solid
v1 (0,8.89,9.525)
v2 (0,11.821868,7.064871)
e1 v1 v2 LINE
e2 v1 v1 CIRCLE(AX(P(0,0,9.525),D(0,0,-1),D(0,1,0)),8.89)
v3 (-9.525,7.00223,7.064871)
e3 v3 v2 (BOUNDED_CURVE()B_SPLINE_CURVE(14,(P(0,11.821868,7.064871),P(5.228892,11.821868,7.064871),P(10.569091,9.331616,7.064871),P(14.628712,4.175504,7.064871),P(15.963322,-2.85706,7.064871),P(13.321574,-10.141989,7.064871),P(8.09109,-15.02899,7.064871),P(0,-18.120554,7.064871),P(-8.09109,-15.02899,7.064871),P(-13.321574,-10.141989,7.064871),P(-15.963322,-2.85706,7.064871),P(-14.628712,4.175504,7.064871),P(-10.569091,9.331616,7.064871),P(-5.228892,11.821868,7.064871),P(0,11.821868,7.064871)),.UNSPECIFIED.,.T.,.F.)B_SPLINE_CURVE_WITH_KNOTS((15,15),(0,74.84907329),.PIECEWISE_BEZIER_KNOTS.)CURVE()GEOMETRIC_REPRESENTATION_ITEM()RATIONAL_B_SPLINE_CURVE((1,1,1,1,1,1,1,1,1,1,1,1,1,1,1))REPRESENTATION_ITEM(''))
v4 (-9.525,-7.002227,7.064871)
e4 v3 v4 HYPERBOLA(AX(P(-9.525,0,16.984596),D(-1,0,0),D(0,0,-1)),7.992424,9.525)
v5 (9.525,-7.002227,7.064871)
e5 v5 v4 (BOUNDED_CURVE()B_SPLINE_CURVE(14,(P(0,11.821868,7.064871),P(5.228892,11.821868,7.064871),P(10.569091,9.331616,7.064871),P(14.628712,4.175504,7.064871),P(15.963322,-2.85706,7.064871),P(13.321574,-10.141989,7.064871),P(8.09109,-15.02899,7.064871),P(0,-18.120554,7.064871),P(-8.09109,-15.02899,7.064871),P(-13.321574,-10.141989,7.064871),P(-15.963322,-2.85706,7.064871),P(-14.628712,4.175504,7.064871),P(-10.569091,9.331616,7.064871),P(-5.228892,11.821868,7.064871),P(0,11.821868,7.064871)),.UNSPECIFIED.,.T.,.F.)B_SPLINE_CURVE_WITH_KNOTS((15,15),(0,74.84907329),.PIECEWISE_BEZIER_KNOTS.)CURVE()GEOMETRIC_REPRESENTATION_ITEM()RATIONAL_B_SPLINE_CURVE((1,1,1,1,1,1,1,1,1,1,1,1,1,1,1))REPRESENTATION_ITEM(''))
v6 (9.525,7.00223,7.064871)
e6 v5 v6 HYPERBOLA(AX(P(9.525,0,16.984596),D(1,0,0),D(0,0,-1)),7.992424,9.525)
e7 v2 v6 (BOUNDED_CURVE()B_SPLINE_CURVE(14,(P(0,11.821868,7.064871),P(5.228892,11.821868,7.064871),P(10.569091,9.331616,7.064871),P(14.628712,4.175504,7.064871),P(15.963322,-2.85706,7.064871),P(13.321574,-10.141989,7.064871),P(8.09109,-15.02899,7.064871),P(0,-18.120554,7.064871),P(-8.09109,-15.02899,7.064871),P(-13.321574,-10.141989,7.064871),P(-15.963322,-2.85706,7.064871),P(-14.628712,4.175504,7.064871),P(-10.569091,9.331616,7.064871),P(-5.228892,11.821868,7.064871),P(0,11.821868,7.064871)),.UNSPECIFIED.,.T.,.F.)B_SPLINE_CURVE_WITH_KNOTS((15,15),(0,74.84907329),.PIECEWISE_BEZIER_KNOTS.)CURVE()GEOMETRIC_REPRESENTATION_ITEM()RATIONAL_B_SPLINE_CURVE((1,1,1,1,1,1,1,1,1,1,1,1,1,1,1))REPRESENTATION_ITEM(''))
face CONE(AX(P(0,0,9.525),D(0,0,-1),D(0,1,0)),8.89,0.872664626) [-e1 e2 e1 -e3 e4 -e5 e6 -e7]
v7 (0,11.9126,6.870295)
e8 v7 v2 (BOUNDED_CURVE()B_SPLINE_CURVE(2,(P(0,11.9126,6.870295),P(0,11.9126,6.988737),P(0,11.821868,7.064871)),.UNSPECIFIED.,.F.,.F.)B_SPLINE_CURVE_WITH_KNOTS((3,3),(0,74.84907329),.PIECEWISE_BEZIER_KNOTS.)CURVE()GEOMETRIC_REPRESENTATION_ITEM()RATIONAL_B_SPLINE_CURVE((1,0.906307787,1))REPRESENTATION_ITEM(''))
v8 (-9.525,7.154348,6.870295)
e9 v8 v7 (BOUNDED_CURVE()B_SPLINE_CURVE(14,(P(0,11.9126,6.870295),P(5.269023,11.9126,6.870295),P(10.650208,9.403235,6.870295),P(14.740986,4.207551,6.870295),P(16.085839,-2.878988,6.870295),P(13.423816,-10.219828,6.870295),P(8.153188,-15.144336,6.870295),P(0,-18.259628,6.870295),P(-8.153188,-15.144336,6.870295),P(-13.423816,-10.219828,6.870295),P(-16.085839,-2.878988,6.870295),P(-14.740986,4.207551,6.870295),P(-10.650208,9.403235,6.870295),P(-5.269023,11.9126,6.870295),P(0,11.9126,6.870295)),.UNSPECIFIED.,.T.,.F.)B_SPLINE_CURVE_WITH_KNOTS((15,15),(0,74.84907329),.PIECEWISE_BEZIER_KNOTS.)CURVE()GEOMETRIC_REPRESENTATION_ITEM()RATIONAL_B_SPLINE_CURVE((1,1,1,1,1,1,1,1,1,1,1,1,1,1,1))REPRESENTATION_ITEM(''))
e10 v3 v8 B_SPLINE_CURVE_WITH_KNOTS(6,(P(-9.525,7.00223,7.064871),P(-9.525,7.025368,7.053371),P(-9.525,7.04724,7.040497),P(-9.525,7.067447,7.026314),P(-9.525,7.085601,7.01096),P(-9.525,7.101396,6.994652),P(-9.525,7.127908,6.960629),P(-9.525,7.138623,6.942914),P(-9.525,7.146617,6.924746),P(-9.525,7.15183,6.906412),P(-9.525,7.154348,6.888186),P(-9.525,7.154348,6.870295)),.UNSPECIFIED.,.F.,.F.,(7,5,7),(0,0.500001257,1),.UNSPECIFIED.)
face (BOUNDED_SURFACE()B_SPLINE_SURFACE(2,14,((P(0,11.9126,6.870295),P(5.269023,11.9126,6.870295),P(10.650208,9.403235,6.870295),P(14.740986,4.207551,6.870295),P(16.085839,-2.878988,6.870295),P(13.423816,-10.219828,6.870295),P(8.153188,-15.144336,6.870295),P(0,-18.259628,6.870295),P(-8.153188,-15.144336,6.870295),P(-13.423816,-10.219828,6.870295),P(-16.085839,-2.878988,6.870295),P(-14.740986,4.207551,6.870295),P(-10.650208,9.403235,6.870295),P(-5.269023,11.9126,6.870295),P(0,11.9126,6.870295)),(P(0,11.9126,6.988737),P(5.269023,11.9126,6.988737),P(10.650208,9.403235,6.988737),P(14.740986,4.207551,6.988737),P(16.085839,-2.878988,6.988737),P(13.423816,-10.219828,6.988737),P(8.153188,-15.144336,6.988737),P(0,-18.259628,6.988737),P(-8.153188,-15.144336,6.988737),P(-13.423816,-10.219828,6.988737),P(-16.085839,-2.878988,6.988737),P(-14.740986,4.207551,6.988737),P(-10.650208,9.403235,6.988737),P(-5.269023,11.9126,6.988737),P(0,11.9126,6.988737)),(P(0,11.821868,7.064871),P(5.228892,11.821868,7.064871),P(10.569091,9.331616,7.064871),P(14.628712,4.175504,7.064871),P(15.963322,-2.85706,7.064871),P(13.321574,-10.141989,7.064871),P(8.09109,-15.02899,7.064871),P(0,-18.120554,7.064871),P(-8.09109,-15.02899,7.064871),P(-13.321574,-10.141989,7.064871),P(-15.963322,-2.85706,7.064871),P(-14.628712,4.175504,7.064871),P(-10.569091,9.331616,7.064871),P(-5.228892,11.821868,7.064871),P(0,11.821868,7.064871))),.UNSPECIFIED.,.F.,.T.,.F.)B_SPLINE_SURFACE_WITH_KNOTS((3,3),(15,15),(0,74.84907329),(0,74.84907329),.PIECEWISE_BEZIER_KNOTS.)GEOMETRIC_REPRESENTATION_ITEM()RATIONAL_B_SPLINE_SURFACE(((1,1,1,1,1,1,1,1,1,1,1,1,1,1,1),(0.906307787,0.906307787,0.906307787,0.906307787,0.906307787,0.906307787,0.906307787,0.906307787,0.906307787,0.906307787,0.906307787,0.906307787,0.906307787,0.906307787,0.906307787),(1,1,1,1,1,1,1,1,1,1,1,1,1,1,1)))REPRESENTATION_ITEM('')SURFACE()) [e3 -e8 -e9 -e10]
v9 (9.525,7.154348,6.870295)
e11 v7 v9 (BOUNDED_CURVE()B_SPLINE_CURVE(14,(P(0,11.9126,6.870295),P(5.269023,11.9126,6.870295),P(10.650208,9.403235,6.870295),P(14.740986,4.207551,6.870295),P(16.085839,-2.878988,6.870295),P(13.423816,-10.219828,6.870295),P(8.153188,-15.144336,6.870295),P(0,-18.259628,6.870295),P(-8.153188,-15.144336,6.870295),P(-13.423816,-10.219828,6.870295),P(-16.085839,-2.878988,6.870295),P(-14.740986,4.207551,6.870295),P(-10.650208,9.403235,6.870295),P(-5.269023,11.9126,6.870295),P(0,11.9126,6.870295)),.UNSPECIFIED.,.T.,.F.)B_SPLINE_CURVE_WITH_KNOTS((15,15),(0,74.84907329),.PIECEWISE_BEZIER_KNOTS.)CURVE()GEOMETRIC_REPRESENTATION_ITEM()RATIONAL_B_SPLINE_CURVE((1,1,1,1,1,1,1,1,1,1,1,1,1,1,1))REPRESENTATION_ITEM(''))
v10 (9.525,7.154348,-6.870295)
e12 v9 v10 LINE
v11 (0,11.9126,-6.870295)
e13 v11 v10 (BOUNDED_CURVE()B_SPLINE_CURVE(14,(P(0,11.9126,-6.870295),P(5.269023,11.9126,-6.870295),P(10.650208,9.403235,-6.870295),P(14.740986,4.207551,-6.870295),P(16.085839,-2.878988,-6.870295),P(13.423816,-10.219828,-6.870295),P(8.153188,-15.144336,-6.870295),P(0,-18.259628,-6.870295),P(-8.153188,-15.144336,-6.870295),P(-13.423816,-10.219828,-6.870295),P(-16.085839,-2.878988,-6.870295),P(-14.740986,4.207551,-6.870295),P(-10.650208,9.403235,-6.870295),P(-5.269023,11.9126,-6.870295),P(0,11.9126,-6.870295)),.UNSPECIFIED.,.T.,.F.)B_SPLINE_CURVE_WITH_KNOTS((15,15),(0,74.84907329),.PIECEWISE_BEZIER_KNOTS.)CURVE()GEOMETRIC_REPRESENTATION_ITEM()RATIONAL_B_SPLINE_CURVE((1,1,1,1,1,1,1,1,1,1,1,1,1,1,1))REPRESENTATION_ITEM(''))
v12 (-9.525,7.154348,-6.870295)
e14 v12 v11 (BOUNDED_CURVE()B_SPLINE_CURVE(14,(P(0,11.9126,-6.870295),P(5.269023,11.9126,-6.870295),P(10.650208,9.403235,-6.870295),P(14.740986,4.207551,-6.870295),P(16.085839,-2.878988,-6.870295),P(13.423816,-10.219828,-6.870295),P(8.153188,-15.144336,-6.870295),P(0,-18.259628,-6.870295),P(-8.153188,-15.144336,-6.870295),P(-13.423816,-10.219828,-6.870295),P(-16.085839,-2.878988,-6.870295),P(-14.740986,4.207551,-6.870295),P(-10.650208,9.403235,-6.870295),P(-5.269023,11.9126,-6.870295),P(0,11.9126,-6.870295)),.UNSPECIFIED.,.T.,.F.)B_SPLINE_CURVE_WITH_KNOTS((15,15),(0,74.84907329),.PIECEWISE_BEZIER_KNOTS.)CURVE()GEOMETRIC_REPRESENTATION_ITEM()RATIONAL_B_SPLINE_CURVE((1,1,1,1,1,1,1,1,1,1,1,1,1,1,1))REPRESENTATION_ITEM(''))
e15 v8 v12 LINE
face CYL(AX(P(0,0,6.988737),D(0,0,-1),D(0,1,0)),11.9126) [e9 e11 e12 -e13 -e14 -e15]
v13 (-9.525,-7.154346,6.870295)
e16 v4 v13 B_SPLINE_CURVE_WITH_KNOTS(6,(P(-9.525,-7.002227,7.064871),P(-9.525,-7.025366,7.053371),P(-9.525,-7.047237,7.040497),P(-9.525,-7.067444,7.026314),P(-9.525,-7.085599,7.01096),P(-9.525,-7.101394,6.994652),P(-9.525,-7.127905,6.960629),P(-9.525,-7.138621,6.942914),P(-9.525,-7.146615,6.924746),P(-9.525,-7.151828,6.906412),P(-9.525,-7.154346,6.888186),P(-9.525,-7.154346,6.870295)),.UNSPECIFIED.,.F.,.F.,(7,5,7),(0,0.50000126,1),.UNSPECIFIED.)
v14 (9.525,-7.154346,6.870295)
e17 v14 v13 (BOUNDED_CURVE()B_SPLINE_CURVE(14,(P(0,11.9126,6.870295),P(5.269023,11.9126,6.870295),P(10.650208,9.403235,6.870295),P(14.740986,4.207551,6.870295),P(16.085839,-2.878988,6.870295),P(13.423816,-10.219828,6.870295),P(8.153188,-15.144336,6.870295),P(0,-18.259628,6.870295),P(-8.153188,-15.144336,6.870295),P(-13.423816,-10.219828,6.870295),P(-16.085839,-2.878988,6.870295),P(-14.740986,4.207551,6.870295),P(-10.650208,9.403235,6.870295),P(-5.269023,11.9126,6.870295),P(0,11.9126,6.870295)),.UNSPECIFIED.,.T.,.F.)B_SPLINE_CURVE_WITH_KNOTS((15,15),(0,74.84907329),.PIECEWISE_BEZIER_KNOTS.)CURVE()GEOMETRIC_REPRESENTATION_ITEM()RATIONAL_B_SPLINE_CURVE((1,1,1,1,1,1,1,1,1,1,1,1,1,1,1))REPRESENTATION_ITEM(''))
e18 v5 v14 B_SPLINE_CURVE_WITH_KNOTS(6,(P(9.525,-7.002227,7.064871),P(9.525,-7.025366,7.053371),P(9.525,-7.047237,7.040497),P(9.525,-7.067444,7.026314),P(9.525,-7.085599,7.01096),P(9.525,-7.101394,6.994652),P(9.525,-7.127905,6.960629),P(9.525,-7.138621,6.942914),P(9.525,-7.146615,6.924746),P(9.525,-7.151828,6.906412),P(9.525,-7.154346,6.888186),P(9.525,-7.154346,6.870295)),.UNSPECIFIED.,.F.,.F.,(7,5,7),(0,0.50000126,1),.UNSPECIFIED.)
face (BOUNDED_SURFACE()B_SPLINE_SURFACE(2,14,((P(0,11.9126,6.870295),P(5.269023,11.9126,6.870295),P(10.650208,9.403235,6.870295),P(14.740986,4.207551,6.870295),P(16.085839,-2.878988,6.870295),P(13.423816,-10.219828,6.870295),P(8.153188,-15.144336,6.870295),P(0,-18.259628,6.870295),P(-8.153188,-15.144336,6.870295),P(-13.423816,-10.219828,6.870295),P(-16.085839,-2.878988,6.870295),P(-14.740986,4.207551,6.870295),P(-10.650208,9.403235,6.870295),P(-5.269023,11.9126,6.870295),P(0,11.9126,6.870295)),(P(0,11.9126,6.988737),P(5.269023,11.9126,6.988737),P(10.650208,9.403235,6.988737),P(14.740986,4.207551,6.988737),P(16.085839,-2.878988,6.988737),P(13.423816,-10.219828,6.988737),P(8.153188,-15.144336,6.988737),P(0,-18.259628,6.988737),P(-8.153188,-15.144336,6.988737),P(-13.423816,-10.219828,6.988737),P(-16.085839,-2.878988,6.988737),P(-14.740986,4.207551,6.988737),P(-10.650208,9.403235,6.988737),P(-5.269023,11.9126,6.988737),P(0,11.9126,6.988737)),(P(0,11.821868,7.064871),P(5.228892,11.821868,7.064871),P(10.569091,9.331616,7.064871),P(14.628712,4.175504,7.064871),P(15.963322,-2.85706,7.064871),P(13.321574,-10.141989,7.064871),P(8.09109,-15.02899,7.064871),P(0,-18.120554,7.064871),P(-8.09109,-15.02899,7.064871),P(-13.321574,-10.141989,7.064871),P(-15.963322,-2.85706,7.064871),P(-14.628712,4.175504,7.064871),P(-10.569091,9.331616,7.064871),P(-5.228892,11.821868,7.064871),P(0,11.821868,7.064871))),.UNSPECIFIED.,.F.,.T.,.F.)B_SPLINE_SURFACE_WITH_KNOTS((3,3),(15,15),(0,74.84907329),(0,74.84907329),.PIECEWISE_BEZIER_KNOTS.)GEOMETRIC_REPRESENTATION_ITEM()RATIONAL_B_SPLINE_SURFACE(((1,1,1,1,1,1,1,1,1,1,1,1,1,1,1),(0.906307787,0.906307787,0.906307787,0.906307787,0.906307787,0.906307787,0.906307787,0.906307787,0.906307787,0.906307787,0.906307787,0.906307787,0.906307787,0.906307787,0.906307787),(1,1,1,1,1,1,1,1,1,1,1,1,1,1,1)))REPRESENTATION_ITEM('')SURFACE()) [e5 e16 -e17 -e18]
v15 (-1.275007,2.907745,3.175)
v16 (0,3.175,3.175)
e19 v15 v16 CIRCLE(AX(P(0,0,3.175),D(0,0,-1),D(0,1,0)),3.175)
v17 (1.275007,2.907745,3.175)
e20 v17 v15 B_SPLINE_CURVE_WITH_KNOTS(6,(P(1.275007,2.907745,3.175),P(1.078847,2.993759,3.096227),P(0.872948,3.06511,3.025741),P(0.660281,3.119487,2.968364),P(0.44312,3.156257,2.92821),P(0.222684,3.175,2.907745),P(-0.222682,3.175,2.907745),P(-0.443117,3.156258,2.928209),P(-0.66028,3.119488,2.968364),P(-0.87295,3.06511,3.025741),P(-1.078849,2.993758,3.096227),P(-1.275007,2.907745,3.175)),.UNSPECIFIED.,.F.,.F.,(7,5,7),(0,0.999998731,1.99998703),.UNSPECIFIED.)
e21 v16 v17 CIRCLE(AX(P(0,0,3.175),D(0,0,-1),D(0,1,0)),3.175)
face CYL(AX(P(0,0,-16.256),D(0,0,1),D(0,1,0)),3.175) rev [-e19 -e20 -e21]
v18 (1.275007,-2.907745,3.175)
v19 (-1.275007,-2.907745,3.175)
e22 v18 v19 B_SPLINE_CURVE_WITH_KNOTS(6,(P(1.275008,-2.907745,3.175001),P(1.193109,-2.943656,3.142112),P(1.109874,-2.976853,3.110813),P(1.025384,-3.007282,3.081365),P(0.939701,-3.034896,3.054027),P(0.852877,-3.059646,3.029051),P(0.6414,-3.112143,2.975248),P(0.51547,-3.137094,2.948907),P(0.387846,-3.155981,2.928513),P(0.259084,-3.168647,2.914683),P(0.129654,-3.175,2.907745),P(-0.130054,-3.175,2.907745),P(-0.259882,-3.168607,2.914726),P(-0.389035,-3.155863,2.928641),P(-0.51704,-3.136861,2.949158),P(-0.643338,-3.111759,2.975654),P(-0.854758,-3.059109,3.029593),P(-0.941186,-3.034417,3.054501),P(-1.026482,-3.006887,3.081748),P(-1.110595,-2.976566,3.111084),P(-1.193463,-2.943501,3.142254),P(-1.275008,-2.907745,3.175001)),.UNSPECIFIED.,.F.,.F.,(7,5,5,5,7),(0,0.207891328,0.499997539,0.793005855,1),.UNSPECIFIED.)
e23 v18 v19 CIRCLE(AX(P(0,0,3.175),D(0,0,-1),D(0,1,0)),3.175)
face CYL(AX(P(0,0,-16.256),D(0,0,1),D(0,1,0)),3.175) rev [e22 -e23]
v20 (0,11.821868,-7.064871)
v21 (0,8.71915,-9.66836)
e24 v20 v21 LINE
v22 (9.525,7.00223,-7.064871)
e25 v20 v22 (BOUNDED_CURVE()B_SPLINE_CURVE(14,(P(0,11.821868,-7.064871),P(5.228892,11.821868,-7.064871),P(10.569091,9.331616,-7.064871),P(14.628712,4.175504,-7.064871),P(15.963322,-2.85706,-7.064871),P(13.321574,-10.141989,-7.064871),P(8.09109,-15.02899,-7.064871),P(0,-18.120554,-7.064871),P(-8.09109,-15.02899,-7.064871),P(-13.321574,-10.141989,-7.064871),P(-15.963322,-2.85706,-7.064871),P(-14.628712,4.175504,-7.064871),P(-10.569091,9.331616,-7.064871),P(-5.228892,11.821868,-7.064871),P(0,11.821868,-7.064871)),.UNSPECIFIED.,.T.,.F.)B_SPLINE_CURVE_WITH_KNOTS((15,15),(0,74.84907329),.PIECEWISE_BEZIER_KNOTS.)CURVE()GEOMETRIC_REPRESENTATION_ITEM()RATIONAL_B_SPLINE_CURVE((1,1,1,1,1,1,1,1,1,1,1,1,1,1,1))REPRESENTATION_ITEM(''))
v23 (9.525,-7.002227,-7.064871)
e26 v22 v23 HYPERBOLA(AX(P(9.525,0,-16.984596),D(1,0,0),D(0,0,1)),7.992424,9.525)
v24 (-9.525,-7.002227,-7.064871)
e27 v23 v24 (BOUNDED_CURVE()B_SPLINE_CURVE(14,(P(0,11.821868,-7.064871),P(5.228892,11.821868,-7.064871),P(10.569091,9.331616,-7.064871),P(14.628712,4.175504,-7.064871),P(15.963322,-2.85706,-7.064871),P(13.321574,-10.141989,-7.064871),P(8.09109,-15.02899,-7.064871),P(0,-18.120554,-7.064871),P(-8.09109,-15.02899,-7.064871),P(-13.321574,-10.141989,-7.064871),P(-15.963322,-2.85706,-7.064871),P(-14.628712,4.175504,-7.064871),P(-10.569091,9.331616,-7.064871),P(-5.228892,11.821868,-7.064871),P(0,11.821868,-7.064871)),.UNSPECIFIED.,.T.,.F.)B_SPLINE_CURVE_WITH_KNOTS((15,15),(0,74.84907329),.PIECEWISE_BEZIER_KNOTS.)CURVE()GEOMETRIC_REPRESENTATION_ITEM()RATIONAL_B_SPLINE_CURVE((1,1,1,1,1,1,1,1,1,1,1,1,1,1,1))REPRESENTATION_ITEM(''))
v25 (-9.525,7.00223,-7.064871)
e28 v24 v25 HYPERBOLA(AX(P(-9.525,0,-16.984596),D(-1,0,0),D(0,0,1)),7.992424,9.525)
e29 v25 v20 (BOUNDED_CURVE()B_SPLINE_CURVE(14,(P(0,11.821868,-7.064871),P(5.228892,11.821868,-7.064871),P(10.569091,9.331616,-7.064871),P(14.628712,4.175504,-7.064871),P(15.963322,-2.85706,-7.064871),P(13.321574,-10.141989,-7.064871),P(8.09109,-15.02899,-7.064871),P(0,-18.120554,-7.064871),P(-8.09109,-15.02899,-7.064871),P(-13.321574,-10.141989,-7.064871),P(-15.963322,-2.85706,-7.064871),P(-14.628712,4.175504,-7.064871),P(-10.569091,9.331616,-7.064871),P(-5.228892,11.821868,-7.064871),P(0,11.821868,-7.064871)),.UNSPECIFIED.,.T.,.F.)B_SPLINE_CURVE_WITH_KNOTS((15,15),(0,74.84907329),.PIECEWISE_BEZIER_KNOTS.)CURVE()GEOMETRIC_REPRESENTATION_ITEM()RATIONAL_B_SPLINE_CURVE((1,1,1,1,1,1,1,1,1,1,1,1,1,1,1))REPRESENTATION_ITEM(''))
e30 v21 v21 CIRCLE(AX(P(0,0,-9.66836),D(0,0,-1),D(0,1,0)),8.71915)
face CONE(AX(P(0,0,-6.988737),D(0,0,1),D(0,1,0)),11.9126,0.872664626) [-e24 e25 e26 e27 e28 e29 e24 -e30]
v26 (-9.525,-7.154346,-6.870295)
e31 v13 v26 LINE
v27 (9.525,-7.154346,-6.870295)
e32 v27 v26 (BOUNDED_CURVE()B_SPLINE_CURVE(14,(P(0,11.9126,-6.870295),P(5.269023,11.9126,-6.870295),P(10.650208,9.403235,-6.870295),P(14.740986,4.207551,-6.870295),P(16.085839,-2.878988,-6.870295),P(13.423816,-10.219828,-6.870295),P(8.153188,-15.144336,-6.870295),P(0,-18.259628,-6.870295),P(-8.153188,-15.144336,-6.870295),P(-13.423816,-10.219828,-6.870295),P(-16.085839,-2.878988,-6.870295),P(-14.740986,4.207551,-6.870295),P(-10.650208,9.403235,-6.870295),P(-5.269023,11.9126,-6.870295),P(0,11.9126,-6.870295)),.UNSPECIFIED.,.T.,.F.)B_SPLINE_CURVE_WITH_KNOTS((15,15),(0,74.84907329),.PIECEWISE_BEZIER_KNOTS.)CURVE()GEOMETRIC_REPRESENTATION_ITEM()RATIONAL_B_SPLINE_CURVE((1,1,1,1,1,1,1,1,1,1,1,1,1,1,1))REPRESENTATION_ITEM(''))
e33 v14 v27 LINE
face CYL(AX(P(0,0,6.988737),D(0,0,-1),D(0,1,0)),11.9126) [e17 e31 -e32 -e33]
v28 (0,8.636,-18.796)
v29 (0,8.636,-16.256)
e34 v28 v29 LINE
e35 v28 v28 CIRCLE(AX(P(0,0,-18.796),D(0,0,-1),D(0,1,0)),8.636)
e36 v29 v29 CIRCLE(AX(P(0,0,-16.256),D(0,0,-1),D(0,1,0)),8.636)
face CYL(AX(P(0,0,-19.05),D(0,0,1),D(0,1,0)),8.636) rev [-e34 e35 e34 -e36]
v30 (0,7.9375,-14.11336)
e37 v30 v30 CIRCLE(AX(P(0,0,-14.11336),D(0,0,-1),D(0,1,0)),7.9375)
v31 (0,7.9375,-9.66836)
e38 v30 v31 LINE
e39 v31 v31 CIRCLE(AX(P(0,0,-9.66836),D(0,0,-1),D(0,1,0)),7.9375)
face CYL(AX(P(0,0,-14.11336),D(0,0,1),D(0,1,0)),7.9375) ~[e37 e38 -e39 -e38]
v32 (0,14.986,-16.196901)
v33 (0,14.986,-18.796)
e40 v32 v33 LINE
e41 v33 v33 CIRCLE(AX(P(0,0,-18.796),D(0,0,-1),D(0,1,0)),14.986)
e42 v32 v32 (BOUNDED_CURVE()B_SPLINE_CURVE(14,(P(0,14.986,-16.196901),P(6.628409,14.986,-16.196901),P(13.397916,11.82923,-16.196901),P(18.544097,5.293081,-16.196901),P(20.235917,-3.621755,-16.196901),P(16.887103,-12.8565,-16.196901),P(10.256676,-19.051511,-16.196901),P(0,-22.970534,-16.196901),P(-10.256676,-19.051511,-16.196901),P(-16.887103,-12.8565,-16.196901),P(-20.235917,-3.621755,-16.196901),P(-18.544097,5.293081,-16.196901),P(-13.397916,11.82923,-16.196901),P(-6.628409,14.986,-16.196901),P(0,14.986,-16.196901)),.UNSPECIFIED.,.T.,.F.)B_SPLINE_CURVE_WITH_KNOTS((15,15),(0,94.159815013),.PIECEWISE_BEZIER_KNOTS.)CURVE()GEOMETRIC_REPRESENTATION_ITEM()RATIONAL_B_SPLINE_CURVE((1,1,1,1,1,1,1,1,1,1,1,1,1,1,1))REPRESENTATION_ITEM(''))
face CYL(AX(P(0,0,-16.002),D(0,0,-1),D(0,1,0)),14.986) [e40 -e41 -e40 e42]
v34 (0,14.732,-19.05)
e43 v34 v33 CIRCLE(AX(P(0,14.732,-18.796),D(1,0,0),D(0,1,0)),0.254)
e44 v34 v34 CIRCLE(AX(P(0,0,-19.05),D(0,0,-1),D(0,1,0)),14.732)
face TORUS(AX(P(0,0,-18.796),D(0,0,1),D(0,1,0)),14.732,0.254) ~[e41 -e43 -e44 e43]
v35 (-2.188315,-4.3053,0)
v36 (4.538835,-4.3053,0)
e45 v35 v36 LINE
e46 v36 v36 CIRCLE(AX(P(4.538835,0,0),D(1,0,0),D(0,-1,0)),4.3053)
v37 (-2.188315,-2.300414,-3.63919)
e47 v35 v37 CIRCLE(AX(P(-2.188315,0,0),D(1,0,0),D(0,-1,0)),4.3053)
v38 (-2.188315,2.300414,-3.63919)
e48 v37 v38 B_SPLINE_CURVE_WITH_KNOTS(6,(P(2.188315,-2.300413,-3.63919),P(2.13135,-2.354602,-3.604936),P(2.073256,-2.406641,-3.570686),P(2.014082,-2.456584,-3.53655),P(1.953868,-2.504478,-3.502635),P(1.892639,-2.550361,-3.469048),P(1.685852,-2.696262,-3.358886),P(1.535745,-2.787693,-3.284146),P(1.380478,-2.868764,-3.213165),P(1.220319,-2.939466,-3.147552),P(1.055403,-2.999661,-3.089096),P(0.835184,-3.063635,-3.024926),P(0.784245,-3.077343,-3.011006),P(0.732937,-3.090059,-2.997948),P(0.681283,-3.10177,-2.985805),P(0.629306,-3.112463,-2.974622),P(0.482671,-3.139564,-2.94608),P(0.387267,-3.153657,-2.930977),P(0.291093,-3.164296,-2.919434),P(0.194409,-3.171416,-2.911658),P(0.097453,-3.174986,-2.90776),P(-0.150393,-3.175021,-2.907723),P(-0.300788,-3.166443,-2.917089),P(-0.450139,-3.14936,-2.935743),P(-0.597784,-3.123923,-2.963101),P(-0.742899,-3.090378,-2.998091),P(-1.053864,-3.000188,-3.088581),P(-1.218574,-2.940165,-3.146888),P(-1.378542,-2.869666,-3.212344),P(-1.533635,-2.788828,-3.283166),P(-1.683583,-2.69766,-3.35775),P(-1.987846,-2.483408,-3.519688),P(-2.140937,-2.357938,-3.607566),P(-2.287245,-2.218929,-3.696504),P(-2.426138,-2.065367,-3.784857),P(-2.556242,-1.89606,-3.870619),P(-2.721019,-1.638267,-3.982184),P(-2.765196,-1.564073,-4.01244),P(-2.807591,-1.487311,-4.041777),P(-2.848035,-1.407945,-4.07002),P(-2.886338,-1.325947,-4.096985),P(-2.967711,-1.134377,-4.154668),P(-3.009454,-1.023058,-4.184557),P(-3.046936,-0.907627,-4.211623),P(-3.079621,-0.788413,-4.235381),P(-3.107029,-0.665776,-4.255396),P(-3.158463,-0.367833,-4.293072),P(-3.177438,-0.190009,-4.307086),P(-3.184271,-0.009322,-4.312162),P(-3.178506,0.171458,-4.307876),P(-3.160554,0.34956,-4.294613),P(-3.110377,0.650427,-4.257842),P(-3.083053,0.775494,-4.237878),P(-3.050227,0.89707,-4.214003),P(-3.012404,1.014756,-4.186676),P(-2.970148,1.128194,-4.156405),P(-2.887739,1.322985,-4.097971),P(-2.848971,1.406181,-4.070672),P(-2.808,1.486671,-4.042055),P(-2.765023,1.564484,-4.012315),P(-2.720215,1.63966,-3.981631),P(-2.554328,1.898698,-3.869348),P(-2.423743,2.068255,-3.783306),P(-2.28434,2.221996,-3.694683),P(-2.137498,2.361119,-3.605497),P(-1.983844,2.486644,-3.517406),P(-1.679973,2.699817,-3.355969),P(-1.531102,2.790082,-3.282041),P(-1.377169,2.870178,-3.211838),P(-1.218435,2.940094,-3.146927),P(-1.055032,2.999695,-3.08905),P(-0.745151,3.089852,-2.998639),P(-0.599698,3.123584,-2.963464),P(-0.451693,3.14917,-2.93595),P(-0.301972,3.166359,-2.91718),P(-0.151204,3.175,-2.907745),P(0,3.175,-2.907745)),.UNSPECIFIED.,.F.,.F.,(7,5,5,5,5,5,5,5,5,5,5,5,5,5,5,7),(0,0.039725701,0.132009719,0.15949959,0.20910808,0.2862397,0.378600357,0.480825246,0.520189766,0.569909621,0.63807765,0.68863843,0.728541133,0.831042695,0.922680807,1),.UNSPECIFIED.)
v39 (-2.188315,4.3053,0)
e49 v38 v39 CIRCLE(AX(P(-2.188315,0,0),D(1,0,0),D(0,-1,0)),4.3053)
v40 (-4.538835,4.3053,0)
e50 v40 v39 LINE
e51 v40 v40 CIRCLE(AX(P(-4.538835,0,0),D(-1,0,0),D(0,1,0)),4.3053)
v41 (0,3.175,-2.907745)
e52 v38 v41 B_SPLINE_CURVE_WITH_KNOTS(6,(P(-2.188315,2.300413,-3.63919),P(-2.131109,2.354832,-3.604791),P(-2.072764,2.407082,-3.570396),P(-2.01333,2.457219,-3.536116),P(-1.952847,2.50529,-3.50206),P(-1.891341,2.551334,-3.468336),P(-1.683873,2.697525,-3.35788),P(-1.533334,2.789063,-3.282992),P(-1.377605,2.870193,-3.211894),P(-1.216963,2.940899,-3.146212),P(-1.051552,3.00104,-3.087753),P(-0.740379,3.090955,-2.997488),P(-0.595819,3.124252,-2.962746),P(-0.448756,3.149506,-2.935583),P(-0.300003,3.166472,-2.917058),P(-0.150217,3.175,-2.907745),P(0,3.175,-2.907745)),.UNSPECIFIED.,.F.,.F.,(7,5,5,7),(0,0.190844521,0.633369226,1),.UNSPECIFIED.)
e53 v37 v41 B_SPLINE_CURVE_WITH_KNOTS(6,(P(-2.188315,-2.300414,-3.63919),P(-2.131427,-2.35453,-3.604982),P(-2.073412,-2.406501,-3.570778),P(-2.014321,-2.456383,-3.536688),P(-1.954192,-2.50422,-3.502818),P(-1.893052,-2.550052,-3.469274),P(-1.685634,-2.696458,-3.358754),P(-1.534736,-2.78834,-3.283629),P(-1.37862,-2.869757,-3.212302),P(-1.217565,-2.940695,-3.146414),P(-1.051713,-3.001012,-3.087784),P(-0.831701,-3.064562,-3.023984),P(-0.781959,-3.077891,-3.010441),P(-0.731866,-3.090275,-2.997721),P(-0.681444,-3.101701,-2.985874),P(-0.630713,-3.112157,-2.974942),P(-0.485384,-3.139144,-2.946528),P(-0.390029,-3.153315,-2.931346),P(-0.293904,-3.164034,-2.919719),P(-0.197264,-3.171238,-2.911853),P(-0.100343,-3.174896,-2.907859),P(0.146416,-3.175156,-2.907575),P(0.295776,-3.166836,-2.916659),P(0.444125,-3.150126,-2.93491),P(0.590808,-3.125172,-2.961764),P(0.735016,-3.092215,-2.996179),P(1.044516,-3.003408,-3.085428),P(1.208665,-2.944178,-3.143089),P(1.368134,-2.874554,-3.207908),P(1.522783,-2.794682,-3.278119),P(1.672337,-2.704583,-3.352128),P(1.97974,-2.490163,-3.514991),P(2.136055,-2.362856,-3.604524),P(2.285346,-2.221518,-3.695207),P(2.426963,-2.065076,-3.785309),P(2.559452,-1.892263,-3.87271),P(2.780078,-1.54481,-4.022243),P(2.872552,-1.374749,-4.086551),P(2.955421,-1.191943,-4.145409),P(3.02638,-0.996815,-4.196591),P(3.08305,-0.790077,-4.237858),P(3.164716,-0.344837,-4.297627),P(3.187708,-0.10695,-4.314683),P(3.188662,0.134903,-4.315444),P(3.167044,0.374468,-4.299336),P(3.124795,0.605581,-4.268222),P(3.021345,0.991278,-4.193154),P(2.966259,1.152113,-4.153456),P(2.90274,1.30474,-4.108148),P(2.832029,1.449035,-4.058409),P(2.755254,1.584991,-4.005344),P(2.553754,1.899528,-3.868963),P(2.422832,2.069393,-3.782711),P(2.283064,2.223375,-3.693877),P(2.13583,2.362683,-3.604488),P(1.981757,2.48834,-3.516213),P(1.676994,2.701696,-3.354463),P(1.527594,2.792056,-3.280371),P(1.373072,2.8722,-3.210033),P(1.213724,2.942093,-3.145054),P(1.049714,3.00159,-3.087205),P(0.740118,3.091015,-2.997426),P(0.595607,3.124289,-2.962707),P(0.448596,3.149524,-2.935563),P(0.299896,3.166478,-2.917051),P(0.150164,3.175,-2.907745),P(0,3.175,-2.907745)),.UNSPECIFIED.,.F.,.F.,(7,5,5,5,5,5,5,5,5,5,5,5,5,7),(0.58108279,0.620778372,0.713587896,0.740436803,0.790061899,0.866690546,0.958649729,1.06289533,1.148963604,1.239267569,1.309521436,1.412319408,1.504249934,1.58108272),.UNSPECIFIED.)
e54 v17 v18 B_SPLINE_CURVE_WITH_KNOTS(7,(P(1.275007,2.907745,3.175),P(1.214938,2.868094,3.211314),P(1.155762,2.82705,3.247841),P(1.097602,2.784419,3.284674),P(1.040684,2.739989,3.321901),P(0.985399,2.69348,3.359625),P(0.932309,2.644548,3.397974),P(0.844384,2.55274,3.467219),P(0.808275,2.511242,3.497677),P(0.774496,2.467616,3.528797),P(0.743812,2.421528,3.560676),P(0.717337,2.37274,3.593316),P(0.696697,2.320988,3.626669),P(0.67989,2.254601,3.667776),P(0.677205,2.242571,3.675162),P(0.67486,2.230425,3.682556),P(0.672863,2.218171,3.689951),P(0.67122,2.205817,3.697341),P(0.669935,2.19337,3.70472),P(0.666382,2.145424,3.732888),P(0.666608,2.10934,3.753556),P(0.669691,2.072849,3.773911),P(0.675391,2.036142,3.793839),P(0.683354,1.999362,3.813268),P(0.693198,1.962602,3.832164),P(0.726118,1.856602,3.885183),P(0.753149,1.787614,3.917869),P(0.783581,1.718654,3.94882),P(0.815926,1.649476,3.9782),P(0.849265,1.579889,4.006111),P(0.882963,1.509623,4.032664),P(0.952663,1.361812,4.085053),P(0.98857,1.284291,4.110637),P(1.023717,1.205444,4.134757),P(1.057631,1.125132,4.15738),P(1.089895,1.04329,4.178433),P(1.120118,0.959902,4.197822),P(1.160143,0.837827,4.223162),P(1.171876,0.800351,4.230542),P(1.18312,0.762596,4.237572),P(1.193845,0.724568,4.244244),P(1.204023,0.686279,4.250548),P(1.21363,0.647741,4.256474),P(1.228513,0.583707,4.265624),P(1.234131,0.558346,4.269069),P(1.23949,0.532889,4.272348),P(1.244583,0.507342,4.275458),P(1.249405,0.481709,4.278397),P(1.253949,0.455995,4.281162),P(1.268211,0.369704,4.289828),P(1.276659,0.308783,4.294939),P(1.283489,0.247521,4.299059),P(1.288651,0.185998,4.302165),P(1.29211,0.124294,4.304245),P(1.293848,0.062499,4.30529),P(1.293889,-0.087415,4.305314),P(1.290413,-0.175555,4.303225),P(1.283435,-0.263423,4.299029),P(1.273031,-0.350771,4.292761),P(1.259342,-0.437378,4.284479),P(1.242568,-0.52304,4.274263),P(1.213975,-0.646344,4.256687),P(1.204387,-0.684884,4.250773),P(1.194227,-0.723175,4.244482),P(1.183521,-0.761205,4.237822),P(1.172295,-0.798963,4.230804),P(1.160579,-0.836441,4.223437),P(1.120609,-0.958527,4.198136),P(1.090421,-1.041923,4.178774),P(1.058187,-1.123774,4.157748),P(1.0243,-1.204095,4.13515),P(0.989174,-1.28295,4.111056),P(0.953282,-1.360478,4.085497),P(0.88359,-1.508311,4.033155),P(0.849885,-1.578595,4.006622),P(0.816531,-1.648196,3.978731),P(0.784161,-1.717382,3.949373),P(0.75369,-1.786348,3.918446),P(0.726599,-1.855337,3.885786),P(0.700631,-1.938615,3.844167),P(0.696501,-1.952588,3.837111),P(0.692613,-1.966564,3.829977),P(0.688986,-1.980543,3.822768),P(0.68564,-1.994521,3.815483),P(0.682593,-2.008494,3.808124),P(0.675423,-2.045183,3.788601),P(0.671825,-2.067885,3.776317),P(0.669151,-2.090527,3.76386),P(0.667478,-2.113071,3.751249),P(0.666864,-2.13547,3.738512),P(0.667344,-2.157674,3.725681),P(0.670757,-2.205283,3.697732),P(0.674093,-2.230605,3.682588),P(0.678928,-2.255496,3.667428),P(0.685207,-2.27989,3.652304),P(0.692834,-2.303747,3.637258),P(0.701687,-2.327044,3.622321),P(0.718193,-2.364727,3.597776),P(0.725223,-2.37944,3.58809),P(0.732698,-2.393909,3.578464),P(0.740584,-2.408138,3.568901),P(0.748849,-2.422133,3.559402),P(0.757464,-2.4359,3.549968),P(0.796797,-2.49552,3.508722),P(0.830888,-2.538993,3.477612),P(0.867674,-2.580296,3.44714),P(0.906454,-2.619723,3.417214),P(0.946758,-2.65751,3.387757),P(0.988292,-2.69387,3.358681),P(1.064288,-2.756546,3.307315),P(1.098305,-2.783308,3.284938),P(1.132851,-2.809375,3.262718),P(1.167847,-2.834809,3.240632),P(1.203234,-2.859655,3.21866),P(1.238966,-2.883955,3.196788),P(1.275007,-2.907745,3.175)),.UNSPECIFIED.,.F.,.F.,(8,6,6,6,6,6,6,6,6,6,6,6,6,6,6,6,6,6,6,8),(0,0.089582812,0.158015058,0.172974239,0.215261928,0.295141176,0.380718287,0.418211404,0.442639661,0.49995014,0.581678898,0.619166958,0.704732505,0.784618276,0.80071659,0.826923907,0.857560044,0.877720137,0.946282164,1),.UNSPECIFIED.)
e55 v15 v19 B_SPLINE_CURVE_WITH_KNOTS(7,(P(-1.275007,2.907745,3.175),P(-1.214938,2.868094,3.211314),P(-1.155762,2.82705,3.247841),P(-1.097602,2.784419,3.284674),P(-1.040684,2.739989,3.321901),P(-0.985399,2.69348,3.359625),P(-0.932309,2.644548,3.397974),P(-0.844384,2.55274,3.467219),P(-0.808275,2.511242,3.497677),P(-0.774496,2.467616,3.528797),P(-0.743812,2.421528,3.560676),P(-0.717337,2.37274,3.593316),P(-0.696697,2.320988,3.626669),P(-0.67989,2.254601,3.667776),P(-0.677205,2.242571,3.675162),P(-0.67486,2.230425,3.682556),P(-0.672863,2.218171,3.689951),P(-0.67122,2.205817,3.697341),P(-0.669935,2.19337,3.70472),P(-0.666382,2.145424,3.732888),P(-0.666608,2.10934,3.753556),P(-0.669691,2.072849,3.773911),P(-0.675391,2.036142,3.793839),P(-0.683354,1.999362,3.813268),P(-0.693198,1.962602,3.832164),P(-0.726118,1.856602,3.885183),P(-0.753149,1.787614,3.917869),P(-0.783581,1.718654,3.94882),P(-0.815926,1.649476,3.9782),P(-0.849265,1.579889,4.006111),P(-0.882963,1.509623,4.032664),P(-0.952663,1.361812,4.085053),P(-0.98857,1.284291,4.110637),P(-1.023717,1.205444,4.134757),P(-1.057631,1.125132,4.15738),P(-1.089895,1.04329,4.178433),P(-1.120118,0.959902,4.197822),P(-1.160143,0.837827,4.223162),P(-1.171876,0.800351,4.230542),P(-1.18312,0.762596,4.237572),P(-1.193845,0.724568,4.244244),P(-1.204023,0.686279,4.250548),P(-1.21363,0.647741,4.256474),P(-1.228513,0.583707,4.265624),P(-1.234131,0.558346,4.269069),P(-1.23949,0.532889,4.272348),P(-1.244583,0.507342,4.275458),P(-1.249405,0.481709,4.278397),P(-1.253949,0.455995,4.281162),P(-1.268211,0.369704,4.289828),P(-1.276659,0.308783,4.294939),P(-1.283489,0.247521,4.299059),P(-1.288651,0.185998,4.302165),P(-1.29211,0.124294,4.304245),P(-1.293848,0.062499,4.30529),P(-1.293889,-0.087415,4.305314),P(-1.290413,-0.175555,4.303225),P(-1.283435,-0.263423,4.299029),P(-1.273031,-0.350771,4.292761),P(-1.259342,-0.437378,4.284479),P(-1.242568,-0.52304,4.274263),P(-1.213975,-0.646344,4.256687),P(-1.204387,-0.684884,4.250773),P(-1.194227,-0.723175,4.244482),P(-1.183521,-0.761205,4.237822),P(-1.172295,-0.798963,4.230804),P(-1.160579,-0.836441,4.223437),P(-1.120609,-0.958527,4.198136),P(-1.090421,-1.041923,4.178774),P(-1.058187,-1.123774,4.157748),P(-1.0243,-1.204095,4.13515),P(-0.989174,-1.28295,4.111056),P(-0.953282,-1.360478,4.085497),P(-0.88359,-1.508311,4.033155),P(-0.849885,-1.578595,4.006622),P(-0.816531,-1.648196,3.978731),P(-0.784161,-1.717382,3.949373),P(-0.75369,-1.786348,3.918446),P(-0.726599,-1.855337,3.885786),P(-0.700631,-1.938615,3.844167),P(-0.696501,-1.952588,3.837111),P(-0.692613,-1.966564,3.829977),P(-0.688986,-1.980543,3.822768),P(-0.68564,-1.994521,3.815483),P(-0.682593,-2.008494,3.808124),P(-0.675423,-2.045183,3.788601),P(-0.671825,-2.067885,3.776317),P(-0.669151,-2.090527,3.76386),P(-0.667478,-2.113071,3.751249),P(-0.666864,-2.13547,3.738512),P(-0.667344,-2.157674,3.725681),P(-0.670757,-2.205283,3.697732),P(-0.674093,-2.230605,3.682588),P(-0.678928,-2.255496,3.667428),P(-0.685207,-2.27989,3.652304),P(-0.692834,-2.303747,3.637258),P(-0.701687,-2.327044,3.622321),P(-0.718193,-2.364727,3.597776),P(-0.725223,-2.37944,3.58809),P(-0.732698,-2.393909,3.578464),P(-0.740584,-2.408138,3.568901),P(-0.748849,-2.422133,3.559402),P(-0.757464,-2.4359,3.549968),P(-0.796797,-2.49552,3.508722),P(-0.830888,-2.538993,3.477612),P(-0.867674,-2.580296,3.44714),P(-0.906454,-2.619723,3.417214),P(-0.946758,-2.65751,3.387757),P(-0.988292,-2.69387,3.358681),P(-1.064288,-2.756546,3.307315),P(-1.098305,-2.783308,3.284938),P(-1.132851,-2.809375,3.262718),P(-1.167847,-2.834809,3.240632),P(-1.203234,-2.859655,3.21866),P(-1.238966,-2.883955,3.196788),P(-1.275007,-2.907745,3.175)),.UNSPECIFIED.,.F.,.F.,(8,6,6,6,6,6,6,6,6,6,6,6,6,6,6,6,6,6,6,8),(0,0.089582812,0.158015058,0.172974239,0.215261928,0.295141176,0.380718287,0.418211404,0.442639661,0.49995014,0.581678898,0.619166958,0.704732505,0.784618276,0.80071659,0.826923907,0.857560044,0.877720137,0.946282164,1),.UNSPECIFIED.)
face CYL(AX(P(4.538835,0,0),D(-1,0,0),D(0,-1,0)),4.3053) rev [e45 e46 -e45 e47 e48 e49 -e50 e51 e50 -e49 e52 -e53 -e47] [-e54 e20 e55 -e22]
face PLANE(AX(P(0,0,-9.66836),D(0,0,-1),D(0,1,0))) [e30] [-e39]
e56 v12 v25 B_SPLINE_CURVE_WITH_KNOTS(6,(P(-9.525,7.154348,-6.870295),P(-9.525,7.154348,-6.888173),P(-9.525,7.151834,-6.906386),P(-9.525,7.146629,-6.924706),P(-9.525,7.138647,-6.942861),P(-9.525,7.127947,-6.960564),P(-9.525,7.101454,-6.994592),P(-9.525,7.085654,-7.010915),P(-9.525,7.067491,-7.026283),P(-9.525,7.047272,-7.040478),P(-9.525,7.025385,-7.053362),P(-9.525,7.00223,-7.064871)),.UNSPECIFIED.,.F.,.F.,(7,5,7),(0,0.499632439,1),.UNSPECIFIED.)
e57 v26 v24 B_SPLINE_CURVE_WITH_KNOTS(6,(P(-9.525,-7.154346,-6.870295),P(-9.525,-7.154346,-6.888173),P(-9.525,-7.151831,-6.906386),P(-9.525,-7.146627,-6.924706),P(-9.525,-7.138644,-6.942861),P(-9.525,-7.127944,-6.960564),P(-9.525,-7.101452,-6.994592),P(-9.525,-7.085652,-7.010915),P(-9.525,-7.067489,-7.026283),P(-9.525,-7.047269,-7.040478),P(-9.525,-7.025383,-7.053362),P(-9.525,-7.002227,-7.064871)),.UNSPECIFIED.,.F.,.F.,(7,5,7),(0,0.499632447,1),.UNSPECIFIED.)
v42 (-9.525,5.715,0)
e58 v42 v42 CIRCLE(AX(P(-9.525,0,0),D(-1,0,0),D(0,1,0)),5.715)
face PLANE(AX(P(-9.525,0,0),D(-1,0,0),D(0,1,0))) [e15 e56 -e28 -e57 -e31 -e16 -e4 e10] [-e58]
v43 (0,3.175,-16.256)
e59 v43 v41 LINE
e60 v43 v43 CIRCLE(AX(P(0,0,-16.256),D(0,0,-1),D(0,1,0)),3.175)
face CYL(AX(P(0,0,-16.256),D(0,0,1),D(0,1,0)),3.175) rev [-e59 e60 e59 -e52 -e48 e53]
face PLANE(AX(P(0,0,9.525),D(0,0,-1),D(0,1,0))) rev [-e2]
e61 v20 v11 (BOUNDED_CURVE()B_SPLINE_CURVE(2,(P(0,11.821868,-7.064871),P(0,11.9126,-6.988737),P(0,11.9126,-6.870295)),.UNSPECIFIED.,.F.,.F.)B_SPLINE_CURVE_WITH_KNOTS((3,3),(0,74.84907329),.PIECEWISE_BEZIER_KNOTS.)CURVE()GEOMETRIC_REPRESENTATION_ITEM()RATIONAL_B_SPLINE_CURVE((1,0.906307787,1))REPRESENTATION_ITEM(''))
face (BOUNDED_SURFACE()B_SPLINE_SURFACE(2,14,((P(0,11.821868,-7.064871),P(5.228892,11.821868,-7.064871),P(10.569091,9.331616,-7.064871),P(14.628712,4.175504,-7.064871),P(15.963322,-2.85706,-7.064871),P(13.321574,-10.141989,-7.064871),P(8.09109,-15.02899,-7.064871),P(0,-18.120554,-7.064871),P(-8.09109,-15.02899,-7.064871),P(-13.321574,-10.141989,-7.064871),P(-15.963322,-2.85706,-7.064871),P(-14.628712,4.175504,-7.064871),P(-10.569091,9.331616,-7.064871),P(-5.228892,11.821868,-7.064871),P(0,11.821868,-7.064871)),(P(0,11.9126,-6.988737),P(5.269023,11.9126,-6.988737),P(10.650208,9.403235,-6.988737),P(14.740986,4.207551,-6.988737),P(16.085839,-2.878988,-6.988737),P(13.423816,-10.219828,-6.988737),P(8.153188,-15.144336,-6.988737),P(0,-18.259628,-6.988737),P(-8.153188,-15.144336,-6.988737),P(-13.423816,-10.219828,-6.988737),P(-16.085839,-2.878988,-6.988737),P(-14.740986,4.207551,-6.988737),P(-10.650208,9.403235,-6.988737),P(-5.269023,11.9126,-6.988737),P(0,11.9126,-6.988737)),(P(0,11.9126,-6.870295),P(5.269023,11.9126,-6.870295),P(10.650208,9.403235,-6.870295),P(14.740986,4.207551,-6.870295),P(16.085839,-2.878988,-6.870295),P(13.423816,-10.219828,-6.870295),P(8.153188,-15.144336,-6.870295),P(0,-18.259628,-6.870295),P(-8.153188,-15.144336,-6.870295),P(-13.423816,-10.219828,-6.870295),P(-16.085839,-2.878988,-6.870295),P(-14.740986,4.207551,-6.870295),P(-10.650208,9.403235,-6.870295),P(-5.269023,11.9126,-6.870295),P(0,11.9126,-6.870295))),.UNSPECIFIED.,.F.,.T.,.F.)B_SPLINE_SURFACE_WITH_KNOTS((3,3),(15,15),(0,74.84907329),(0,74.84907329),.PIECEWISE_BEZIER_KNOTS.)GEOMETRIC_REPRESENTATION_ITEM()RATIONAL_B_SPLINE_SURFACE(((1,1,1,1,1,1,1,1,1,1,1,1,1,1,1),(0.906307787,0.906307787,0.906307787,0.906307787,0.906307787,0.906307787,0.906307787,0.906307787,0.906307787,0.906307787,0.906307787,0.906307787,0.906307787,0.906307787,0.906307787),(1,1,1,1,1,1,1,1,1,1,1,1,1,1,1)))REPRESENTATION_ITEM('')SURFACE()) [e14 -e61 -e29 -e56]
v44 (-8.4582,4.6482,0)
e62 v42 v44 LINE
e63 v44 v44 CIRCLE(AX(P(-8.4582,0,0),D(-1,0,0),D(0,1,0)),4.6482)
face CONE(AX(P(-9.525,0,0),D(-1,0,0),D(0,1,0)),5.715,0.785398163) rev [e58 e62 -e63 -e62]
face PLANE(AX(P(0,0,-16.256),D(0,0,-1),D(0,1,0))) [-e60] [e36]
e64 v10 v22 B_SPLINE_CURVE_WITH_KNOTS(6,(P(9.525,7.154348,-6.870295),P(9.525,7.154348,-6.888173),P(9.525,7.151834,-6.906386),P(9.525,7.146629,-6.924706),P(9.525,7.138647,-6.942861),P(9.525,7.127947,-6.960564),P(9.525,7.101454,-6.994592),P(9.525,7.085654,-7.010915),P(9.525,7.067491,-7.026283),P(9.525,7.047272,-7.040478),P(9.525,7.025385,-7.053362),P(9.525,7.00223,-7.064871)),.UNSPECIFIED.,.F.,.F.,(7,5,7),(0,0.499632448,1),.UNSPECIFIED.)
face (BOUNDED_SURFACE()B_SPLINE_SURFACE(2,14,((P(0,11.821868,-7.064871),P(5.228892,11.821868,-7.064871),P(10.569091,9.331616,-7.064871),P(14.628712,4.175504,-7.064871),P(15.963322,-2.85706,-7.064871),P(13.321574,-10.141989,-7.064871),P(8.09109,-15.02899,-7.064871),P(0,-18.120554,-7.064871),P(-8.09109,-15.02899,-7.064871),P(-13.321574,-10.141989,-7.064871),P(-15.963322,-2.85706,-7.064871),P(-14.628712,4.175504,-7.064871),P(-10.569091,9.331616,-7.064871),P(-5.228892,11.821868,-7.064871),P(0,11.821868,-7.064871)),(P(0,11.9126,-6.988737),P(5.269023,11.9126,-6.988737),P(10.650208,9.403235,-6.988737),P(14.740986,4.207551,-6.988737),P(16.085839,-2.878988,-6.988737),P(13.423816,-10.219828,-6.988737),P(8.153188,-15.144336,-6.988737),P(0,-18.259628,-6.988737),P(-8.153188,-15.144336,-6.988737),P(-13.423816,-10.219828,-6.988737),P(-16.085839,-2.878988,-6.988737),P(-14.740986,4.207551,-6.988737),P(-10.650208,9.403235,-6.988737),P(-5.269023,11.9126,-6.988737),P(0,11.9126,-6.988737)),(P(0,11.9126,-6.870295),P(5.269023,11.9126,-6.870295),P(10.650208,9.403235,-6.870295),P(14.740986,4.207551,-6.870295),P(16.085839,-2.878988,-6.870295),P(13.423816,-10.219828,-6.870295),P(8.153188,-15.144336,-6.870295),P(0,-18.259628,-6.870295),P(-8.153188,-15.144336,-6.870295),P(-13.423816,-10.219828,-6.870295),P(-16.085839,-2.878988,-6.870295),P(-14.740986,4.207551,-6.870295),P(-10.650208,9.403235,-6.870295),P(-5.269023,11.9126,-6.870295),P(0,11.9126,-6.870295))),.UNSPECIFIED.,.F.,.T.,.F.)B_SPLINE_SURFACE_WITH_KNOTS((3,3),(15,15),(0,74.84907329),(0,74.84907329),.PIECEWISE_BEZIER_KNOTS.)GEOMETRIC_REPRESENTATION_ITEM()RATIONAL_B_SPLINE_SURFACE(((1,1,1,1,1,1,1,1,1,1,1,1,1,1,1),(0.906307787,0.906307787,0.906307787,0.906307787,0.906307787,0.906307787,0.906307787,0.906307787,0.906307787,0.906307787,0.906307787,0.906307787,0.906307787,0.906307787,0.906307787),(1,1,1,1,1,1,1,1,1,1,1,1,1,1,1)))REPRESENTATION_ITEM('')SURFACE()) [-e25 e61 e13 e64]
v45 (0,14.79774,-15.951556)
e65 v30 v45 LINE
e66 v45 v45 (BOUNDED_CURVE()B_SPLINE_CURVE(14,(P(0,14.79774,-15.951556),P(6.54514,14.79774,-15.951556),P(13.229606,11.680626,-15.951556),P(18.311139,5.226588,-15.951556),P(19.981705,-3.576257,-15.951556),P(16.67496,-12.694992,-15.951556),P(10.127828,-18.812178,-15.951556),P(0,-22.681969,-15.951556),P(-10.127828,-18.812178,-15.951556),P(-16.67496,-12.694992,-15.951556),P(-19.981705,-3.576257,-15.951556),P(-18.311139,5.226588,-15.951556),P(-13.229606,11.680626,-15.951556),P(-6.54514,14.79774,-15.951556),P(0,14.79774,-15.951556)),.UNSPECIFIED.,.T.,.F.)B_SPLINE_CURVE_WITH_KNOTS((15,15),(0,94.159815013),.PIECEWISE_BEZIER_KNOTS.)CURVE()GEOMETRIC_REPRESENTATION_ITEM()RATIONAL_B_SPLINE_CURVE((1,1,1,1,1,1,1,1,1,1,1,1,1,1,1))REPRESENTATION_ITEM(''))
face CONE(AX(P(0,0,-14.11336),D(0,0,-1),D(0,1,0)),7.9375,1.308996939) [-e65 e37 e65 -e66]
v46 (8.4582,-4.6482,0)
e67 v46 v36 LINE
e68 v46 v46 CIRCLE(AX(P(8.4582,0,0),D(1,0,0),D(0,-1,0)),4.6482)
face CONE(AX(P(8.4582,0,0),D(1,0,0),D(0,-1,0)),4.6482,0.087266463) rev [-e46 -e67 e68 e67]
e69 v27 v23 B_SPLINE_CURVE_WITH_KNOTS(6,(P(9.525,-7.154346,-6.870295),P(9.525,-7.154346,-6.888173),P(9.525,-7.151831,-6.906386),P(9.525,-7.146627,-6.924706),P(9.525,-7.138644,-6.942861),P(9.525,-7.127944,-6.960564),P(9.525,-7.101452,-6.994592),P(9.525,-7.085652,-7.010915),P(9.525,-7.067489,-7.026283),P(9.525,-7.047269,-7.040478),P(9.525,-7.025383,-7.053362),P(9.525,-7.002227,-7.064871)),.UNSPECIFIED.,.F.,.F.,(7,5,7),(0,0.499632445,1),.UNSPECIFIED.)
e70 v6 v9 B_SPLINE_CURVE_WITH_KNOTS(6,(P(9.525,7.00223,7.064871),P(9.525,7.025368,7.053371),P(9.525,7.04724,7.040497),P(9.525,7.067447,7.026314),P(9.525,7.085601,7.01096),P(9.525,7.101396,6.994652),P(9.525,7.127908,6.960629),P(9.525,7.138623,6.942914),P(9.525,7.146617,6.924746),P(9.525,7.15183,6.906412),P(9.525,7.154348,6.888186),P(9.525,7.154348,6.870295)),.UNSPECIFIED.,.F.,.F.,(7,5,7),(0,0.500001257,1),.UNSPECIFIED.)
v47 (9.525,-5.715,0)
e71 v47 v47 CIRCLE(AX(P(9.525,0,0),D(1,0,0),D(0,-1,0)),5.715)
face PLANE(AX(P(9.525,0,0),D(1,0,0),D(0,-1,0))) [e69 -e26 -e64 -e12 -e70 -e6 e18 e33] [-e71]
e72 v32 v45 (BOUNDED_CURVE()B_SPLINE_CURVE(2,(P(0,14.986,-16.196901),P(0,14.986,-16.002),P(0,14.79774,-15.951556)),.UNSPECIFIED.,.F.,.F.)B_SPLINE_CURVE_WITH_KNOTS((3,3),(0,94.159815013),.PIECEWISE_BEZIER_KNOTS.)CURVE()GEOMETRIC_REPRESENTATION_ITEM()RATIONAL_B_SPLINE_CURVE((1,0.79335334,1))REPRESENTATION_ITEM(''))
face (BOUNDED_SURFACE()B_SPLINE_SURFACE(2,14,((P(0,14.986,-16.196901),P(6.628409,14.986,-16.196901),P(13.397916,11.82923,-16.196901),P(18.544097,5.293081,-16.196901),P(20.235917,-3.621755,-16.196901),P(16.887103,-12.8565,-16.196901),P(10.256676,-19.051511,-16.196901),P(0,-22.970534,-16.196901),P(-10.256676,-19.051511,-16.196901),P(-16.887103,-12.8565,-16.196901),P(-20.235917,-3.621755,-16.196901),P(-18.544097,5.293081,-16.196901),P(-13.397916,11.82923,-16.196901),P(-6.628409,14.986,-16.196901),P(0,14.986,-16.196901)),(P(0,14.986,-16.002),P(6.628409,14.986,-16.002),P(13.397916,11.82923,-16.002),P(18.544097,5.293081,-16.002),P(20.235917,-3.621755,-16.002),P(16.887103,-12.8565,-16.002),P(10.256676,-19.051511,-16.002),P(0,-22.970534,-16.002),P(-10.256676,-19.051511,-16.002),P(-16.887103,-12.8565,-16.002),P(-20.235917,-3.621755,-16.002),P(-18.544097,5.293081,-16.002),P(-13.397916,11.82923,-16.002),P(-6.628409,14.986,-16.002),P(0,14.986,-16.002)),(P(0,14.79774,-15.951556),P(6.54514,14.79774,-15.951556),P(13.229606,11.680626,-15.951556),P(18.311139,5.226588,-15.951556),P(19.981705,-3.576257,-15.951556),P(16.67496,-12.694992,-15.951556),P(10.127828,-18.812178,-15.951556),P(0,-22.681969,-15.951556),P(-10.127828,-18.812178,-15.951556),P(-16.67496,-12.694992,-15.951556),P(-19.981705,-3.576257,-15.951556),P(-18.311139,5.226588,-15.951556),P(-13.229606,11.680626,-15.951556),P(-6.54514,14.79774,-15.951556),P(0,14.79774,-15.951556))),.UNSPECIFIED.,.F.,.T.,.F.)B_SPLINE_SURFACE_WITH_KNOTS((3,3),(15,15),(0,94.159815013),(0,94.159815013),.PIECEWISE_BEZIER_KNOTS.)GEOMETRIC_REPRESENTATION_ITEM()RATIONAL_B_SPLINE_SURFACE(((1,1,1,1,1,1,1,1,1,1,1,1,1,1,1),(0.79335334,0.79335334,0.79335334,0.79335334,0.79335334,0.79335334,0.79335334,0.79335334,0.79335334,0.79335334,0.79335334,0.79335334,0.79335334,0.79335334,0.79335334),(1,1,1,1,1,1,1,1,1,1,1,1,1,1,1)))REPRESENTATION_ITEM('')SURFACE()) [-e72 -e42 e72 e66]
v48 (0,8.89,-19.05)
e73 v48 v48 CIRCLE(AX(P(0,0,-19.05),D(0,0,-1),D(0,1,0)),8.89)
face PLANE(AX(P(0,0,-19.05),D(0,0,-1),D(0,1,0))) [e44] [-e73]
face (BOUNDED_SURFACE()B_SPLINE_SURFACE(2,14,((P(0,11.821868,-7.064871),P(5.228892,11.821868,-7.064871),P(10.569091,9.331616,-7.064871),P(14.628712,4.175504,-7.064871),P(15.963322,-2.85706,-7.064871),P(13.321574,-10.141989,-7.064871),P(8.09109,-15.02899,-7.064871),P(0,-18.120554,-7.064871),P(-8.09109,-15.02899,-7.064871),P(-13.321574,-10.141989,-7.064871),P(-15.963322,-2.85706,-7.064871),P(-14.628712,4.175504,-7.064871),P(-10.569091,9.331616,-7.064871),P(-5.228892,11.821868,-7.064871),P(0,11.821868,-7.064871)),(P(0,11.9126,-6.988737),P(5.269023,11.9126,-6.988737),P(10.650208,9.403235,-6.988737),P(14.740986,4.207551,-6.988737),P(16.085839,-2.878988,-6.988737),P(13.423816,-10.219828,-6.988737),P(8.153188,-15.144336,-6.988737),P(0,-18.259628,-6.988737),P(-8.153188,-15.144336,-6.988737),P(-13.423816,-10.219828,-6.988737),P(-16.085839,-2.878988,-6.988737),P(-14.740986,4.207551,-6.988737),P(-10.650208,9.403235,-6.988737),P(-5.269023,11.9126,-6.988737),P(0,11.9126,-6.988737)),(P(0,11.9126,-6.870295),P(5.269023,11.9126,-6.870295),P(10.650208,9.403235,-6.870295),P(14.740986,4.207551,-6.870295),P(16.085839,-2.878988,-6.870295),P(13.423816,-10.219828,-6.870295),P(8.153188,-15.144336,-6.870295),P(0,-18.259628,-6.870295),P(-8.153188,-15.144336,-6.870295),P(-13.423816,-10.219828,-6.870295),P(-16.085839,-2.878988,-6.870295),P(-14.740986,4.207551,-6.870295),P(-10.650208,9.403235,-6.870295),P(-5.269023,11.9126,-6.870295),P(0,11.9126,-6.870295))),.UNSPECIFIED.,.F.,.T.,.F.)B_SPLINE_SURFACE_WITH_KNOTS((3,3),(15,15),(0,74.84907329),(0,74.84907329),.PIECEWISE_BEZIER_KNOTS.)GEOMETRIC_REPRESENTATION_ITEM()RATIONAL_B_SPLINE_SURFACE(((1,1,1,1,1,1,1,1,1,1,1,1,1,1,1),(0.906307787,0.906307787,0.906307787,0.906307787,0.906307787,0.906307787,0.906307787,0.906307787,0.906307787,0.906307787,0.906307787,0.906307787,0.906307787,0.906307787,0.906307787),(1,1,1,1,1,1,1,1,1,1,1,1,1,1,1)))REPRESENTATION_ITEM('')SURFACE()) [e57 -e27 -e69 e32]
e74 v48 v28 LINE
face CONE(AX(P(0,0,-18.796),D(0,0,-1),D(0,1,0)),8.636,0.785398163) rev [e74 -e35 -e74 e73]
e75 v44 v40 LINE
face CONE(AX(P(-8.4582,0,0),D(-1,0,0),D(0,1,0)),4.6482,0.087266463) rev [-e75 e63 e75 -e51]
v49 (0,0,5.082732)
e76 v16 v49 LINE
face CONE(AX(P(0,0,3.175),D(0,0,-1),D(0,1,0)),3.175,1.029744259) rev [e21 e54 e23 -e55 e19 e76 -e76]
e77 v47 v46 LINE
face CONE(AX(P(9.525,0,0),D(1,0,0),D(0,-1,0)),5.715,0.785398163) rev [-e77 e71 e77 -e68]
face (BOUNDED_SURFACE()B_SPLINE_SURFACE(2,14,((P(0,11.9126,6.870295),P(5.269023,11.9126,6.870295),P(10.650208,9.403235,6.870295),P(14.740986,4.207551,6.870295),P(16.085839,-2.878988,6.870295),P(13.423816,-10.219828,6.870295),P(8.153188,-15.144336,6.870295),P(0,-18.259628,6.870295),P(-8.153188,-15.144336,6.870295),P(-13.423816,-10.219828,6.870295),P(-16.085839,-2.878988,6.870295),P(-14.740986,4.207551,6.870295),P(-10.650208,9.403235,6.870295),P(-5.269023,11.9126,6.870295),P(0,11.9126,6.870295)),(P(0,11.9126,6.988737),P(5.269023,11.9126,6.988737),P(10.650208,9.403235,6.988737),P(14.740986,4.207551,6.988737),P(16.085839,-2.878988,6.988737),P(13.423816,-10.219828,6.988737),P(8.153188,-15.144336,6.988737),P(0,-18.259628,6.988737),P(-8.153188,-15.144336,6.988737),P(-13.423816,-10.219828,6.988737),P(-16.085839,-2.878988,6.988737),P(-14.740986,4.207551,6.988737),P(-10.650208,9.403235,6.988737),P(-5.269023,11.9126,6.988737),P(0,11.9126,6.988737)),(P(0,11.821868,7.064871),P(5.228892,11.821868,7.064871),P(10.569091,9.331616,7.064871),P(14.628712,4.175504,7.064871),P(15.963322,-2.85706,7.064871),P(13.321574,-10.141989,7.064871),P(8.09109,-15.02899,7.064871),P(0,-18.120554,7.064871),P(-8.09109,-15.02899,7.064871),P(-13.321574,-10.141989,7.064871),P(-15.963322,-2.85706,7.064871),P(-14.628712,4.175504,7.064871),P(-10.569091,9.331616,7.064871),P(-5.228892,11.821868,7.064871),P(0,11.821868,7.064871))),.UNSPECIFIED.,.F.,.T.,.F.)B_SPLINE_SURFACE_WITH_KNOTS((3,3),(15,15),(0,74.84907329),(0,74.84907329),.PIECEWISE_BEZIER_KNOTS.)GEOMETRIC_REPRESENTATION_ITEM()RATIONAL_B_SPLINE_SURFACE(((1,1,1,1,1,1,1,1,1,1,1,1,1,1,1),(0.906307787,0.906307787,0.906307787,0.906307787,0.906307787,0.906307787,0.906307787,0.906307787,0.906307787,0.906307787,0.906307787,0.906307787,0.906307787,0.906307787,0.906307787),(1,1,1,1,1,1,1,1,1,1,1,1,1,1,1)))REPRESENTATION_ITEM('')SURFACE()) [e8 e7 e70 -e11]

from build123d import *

# Parameters (mm, degrees)
BOSS_EXTRUDE1_DEPTH      = 12.7
BOSS_EXTRUDE1_DEPTH_BACK = 25.4
SKETCH4_R                = 15.875
CHAMFER1_SIZE            = 0.254
FILLET1_R                = 0.254
CIRPATTERN1_COUNT        = 2


with BuildPart() as part:
    # Sketch4 → Boss-Extrude1 (new, two sides: drawn at the far end of the back side and taken through both)
    with BuildSketch(Plane.XY.offset(-BOSS_EXTRUDE1_DEPTH_BACK)):
        Circle(SKETCH4_R)
    extrude(amount=BOSS_EXTRUDE1_DEPTH + BOSS_EXTRUDE1_DEPTH_BACK)

    # Sketch1 → Cut-Revolve2 (revolve, cut)
    with BuildSketch(Plane.ZY):
        Polygon((-16.256, 3.175), (3.175, 3.175), (5.082732465, 0), (-53.588062875, 0), (-53.588062875, 25.4), (15.265422121, 25.4), (15.265422121, 0), (9.525, 0), (9.525, 8.89), (6.988737455, 11.9126), (-6.988737455, 11.9126), (-9.668360117, 8.719150065), (-9.668360117, 7.9375), (-10.324242399, 7.9375), (-14.113360117, 7.9375), (-16.002, 14.986), (-19.05, 14.986), (-19.05, 8.636), (-16.256, 8.636), align=None)
    revolve(axis=Axis((0, 0, 24.527557732), (0, 0, -1)), mode=Mode.SUBTRACT)

    # Chamfer1
    chamfer1_edges = [part.edges().sort_by_distance(p)[0] for p in [
        (0, -8.636, -19.05),
    ]]
    chamfer(chamfer1_edges, length=CHAMFER1_SIZE)

    # Fillet1
    fillet1_edges = [part.edges().sort_by_distance(p)[0] for p in [
        (0, -11.9126, 6.988737455),
        (0, -11.9126, -6.988737455),
        (0, -14.986, -19.05),
        (0, -14.986, -16.002),
    ]]
    fillet(fillet1_edges, radius=FILLET1_R)

    # Sketch6 → Cut-Revolve3 (revolve, cut)
    with BuildSketch(Plane.XY):
        Polygon((-4.7752, 0), (22.225, 0), (22.225, -12.7), (9.525, -12.7), (9.525, -5.715), (8.4582, -4.6482), (4.538835065, -4.3053), (-2.188314777, -4.3053), align=None)
    cut_revolve3 = revolve(axis=Axis((22.225, 0, 0), (1, 0, 0)), mode=Mode.SUBTRACT)

    # CirPattern1: Cut-Revolve3 ×2 about axis
    cirpattern1_axis = Axis((0, 0, -23.67915), (0, 0, 1))
    for i in range(1, CIRPATTERN1_COUNT):
        add(cut_revolve3.rotate(cirpattern1_axis, i * 360 / CIRPATTERN1_COUNT), mode=Mode.SUBTRACT)


solid = part.part
